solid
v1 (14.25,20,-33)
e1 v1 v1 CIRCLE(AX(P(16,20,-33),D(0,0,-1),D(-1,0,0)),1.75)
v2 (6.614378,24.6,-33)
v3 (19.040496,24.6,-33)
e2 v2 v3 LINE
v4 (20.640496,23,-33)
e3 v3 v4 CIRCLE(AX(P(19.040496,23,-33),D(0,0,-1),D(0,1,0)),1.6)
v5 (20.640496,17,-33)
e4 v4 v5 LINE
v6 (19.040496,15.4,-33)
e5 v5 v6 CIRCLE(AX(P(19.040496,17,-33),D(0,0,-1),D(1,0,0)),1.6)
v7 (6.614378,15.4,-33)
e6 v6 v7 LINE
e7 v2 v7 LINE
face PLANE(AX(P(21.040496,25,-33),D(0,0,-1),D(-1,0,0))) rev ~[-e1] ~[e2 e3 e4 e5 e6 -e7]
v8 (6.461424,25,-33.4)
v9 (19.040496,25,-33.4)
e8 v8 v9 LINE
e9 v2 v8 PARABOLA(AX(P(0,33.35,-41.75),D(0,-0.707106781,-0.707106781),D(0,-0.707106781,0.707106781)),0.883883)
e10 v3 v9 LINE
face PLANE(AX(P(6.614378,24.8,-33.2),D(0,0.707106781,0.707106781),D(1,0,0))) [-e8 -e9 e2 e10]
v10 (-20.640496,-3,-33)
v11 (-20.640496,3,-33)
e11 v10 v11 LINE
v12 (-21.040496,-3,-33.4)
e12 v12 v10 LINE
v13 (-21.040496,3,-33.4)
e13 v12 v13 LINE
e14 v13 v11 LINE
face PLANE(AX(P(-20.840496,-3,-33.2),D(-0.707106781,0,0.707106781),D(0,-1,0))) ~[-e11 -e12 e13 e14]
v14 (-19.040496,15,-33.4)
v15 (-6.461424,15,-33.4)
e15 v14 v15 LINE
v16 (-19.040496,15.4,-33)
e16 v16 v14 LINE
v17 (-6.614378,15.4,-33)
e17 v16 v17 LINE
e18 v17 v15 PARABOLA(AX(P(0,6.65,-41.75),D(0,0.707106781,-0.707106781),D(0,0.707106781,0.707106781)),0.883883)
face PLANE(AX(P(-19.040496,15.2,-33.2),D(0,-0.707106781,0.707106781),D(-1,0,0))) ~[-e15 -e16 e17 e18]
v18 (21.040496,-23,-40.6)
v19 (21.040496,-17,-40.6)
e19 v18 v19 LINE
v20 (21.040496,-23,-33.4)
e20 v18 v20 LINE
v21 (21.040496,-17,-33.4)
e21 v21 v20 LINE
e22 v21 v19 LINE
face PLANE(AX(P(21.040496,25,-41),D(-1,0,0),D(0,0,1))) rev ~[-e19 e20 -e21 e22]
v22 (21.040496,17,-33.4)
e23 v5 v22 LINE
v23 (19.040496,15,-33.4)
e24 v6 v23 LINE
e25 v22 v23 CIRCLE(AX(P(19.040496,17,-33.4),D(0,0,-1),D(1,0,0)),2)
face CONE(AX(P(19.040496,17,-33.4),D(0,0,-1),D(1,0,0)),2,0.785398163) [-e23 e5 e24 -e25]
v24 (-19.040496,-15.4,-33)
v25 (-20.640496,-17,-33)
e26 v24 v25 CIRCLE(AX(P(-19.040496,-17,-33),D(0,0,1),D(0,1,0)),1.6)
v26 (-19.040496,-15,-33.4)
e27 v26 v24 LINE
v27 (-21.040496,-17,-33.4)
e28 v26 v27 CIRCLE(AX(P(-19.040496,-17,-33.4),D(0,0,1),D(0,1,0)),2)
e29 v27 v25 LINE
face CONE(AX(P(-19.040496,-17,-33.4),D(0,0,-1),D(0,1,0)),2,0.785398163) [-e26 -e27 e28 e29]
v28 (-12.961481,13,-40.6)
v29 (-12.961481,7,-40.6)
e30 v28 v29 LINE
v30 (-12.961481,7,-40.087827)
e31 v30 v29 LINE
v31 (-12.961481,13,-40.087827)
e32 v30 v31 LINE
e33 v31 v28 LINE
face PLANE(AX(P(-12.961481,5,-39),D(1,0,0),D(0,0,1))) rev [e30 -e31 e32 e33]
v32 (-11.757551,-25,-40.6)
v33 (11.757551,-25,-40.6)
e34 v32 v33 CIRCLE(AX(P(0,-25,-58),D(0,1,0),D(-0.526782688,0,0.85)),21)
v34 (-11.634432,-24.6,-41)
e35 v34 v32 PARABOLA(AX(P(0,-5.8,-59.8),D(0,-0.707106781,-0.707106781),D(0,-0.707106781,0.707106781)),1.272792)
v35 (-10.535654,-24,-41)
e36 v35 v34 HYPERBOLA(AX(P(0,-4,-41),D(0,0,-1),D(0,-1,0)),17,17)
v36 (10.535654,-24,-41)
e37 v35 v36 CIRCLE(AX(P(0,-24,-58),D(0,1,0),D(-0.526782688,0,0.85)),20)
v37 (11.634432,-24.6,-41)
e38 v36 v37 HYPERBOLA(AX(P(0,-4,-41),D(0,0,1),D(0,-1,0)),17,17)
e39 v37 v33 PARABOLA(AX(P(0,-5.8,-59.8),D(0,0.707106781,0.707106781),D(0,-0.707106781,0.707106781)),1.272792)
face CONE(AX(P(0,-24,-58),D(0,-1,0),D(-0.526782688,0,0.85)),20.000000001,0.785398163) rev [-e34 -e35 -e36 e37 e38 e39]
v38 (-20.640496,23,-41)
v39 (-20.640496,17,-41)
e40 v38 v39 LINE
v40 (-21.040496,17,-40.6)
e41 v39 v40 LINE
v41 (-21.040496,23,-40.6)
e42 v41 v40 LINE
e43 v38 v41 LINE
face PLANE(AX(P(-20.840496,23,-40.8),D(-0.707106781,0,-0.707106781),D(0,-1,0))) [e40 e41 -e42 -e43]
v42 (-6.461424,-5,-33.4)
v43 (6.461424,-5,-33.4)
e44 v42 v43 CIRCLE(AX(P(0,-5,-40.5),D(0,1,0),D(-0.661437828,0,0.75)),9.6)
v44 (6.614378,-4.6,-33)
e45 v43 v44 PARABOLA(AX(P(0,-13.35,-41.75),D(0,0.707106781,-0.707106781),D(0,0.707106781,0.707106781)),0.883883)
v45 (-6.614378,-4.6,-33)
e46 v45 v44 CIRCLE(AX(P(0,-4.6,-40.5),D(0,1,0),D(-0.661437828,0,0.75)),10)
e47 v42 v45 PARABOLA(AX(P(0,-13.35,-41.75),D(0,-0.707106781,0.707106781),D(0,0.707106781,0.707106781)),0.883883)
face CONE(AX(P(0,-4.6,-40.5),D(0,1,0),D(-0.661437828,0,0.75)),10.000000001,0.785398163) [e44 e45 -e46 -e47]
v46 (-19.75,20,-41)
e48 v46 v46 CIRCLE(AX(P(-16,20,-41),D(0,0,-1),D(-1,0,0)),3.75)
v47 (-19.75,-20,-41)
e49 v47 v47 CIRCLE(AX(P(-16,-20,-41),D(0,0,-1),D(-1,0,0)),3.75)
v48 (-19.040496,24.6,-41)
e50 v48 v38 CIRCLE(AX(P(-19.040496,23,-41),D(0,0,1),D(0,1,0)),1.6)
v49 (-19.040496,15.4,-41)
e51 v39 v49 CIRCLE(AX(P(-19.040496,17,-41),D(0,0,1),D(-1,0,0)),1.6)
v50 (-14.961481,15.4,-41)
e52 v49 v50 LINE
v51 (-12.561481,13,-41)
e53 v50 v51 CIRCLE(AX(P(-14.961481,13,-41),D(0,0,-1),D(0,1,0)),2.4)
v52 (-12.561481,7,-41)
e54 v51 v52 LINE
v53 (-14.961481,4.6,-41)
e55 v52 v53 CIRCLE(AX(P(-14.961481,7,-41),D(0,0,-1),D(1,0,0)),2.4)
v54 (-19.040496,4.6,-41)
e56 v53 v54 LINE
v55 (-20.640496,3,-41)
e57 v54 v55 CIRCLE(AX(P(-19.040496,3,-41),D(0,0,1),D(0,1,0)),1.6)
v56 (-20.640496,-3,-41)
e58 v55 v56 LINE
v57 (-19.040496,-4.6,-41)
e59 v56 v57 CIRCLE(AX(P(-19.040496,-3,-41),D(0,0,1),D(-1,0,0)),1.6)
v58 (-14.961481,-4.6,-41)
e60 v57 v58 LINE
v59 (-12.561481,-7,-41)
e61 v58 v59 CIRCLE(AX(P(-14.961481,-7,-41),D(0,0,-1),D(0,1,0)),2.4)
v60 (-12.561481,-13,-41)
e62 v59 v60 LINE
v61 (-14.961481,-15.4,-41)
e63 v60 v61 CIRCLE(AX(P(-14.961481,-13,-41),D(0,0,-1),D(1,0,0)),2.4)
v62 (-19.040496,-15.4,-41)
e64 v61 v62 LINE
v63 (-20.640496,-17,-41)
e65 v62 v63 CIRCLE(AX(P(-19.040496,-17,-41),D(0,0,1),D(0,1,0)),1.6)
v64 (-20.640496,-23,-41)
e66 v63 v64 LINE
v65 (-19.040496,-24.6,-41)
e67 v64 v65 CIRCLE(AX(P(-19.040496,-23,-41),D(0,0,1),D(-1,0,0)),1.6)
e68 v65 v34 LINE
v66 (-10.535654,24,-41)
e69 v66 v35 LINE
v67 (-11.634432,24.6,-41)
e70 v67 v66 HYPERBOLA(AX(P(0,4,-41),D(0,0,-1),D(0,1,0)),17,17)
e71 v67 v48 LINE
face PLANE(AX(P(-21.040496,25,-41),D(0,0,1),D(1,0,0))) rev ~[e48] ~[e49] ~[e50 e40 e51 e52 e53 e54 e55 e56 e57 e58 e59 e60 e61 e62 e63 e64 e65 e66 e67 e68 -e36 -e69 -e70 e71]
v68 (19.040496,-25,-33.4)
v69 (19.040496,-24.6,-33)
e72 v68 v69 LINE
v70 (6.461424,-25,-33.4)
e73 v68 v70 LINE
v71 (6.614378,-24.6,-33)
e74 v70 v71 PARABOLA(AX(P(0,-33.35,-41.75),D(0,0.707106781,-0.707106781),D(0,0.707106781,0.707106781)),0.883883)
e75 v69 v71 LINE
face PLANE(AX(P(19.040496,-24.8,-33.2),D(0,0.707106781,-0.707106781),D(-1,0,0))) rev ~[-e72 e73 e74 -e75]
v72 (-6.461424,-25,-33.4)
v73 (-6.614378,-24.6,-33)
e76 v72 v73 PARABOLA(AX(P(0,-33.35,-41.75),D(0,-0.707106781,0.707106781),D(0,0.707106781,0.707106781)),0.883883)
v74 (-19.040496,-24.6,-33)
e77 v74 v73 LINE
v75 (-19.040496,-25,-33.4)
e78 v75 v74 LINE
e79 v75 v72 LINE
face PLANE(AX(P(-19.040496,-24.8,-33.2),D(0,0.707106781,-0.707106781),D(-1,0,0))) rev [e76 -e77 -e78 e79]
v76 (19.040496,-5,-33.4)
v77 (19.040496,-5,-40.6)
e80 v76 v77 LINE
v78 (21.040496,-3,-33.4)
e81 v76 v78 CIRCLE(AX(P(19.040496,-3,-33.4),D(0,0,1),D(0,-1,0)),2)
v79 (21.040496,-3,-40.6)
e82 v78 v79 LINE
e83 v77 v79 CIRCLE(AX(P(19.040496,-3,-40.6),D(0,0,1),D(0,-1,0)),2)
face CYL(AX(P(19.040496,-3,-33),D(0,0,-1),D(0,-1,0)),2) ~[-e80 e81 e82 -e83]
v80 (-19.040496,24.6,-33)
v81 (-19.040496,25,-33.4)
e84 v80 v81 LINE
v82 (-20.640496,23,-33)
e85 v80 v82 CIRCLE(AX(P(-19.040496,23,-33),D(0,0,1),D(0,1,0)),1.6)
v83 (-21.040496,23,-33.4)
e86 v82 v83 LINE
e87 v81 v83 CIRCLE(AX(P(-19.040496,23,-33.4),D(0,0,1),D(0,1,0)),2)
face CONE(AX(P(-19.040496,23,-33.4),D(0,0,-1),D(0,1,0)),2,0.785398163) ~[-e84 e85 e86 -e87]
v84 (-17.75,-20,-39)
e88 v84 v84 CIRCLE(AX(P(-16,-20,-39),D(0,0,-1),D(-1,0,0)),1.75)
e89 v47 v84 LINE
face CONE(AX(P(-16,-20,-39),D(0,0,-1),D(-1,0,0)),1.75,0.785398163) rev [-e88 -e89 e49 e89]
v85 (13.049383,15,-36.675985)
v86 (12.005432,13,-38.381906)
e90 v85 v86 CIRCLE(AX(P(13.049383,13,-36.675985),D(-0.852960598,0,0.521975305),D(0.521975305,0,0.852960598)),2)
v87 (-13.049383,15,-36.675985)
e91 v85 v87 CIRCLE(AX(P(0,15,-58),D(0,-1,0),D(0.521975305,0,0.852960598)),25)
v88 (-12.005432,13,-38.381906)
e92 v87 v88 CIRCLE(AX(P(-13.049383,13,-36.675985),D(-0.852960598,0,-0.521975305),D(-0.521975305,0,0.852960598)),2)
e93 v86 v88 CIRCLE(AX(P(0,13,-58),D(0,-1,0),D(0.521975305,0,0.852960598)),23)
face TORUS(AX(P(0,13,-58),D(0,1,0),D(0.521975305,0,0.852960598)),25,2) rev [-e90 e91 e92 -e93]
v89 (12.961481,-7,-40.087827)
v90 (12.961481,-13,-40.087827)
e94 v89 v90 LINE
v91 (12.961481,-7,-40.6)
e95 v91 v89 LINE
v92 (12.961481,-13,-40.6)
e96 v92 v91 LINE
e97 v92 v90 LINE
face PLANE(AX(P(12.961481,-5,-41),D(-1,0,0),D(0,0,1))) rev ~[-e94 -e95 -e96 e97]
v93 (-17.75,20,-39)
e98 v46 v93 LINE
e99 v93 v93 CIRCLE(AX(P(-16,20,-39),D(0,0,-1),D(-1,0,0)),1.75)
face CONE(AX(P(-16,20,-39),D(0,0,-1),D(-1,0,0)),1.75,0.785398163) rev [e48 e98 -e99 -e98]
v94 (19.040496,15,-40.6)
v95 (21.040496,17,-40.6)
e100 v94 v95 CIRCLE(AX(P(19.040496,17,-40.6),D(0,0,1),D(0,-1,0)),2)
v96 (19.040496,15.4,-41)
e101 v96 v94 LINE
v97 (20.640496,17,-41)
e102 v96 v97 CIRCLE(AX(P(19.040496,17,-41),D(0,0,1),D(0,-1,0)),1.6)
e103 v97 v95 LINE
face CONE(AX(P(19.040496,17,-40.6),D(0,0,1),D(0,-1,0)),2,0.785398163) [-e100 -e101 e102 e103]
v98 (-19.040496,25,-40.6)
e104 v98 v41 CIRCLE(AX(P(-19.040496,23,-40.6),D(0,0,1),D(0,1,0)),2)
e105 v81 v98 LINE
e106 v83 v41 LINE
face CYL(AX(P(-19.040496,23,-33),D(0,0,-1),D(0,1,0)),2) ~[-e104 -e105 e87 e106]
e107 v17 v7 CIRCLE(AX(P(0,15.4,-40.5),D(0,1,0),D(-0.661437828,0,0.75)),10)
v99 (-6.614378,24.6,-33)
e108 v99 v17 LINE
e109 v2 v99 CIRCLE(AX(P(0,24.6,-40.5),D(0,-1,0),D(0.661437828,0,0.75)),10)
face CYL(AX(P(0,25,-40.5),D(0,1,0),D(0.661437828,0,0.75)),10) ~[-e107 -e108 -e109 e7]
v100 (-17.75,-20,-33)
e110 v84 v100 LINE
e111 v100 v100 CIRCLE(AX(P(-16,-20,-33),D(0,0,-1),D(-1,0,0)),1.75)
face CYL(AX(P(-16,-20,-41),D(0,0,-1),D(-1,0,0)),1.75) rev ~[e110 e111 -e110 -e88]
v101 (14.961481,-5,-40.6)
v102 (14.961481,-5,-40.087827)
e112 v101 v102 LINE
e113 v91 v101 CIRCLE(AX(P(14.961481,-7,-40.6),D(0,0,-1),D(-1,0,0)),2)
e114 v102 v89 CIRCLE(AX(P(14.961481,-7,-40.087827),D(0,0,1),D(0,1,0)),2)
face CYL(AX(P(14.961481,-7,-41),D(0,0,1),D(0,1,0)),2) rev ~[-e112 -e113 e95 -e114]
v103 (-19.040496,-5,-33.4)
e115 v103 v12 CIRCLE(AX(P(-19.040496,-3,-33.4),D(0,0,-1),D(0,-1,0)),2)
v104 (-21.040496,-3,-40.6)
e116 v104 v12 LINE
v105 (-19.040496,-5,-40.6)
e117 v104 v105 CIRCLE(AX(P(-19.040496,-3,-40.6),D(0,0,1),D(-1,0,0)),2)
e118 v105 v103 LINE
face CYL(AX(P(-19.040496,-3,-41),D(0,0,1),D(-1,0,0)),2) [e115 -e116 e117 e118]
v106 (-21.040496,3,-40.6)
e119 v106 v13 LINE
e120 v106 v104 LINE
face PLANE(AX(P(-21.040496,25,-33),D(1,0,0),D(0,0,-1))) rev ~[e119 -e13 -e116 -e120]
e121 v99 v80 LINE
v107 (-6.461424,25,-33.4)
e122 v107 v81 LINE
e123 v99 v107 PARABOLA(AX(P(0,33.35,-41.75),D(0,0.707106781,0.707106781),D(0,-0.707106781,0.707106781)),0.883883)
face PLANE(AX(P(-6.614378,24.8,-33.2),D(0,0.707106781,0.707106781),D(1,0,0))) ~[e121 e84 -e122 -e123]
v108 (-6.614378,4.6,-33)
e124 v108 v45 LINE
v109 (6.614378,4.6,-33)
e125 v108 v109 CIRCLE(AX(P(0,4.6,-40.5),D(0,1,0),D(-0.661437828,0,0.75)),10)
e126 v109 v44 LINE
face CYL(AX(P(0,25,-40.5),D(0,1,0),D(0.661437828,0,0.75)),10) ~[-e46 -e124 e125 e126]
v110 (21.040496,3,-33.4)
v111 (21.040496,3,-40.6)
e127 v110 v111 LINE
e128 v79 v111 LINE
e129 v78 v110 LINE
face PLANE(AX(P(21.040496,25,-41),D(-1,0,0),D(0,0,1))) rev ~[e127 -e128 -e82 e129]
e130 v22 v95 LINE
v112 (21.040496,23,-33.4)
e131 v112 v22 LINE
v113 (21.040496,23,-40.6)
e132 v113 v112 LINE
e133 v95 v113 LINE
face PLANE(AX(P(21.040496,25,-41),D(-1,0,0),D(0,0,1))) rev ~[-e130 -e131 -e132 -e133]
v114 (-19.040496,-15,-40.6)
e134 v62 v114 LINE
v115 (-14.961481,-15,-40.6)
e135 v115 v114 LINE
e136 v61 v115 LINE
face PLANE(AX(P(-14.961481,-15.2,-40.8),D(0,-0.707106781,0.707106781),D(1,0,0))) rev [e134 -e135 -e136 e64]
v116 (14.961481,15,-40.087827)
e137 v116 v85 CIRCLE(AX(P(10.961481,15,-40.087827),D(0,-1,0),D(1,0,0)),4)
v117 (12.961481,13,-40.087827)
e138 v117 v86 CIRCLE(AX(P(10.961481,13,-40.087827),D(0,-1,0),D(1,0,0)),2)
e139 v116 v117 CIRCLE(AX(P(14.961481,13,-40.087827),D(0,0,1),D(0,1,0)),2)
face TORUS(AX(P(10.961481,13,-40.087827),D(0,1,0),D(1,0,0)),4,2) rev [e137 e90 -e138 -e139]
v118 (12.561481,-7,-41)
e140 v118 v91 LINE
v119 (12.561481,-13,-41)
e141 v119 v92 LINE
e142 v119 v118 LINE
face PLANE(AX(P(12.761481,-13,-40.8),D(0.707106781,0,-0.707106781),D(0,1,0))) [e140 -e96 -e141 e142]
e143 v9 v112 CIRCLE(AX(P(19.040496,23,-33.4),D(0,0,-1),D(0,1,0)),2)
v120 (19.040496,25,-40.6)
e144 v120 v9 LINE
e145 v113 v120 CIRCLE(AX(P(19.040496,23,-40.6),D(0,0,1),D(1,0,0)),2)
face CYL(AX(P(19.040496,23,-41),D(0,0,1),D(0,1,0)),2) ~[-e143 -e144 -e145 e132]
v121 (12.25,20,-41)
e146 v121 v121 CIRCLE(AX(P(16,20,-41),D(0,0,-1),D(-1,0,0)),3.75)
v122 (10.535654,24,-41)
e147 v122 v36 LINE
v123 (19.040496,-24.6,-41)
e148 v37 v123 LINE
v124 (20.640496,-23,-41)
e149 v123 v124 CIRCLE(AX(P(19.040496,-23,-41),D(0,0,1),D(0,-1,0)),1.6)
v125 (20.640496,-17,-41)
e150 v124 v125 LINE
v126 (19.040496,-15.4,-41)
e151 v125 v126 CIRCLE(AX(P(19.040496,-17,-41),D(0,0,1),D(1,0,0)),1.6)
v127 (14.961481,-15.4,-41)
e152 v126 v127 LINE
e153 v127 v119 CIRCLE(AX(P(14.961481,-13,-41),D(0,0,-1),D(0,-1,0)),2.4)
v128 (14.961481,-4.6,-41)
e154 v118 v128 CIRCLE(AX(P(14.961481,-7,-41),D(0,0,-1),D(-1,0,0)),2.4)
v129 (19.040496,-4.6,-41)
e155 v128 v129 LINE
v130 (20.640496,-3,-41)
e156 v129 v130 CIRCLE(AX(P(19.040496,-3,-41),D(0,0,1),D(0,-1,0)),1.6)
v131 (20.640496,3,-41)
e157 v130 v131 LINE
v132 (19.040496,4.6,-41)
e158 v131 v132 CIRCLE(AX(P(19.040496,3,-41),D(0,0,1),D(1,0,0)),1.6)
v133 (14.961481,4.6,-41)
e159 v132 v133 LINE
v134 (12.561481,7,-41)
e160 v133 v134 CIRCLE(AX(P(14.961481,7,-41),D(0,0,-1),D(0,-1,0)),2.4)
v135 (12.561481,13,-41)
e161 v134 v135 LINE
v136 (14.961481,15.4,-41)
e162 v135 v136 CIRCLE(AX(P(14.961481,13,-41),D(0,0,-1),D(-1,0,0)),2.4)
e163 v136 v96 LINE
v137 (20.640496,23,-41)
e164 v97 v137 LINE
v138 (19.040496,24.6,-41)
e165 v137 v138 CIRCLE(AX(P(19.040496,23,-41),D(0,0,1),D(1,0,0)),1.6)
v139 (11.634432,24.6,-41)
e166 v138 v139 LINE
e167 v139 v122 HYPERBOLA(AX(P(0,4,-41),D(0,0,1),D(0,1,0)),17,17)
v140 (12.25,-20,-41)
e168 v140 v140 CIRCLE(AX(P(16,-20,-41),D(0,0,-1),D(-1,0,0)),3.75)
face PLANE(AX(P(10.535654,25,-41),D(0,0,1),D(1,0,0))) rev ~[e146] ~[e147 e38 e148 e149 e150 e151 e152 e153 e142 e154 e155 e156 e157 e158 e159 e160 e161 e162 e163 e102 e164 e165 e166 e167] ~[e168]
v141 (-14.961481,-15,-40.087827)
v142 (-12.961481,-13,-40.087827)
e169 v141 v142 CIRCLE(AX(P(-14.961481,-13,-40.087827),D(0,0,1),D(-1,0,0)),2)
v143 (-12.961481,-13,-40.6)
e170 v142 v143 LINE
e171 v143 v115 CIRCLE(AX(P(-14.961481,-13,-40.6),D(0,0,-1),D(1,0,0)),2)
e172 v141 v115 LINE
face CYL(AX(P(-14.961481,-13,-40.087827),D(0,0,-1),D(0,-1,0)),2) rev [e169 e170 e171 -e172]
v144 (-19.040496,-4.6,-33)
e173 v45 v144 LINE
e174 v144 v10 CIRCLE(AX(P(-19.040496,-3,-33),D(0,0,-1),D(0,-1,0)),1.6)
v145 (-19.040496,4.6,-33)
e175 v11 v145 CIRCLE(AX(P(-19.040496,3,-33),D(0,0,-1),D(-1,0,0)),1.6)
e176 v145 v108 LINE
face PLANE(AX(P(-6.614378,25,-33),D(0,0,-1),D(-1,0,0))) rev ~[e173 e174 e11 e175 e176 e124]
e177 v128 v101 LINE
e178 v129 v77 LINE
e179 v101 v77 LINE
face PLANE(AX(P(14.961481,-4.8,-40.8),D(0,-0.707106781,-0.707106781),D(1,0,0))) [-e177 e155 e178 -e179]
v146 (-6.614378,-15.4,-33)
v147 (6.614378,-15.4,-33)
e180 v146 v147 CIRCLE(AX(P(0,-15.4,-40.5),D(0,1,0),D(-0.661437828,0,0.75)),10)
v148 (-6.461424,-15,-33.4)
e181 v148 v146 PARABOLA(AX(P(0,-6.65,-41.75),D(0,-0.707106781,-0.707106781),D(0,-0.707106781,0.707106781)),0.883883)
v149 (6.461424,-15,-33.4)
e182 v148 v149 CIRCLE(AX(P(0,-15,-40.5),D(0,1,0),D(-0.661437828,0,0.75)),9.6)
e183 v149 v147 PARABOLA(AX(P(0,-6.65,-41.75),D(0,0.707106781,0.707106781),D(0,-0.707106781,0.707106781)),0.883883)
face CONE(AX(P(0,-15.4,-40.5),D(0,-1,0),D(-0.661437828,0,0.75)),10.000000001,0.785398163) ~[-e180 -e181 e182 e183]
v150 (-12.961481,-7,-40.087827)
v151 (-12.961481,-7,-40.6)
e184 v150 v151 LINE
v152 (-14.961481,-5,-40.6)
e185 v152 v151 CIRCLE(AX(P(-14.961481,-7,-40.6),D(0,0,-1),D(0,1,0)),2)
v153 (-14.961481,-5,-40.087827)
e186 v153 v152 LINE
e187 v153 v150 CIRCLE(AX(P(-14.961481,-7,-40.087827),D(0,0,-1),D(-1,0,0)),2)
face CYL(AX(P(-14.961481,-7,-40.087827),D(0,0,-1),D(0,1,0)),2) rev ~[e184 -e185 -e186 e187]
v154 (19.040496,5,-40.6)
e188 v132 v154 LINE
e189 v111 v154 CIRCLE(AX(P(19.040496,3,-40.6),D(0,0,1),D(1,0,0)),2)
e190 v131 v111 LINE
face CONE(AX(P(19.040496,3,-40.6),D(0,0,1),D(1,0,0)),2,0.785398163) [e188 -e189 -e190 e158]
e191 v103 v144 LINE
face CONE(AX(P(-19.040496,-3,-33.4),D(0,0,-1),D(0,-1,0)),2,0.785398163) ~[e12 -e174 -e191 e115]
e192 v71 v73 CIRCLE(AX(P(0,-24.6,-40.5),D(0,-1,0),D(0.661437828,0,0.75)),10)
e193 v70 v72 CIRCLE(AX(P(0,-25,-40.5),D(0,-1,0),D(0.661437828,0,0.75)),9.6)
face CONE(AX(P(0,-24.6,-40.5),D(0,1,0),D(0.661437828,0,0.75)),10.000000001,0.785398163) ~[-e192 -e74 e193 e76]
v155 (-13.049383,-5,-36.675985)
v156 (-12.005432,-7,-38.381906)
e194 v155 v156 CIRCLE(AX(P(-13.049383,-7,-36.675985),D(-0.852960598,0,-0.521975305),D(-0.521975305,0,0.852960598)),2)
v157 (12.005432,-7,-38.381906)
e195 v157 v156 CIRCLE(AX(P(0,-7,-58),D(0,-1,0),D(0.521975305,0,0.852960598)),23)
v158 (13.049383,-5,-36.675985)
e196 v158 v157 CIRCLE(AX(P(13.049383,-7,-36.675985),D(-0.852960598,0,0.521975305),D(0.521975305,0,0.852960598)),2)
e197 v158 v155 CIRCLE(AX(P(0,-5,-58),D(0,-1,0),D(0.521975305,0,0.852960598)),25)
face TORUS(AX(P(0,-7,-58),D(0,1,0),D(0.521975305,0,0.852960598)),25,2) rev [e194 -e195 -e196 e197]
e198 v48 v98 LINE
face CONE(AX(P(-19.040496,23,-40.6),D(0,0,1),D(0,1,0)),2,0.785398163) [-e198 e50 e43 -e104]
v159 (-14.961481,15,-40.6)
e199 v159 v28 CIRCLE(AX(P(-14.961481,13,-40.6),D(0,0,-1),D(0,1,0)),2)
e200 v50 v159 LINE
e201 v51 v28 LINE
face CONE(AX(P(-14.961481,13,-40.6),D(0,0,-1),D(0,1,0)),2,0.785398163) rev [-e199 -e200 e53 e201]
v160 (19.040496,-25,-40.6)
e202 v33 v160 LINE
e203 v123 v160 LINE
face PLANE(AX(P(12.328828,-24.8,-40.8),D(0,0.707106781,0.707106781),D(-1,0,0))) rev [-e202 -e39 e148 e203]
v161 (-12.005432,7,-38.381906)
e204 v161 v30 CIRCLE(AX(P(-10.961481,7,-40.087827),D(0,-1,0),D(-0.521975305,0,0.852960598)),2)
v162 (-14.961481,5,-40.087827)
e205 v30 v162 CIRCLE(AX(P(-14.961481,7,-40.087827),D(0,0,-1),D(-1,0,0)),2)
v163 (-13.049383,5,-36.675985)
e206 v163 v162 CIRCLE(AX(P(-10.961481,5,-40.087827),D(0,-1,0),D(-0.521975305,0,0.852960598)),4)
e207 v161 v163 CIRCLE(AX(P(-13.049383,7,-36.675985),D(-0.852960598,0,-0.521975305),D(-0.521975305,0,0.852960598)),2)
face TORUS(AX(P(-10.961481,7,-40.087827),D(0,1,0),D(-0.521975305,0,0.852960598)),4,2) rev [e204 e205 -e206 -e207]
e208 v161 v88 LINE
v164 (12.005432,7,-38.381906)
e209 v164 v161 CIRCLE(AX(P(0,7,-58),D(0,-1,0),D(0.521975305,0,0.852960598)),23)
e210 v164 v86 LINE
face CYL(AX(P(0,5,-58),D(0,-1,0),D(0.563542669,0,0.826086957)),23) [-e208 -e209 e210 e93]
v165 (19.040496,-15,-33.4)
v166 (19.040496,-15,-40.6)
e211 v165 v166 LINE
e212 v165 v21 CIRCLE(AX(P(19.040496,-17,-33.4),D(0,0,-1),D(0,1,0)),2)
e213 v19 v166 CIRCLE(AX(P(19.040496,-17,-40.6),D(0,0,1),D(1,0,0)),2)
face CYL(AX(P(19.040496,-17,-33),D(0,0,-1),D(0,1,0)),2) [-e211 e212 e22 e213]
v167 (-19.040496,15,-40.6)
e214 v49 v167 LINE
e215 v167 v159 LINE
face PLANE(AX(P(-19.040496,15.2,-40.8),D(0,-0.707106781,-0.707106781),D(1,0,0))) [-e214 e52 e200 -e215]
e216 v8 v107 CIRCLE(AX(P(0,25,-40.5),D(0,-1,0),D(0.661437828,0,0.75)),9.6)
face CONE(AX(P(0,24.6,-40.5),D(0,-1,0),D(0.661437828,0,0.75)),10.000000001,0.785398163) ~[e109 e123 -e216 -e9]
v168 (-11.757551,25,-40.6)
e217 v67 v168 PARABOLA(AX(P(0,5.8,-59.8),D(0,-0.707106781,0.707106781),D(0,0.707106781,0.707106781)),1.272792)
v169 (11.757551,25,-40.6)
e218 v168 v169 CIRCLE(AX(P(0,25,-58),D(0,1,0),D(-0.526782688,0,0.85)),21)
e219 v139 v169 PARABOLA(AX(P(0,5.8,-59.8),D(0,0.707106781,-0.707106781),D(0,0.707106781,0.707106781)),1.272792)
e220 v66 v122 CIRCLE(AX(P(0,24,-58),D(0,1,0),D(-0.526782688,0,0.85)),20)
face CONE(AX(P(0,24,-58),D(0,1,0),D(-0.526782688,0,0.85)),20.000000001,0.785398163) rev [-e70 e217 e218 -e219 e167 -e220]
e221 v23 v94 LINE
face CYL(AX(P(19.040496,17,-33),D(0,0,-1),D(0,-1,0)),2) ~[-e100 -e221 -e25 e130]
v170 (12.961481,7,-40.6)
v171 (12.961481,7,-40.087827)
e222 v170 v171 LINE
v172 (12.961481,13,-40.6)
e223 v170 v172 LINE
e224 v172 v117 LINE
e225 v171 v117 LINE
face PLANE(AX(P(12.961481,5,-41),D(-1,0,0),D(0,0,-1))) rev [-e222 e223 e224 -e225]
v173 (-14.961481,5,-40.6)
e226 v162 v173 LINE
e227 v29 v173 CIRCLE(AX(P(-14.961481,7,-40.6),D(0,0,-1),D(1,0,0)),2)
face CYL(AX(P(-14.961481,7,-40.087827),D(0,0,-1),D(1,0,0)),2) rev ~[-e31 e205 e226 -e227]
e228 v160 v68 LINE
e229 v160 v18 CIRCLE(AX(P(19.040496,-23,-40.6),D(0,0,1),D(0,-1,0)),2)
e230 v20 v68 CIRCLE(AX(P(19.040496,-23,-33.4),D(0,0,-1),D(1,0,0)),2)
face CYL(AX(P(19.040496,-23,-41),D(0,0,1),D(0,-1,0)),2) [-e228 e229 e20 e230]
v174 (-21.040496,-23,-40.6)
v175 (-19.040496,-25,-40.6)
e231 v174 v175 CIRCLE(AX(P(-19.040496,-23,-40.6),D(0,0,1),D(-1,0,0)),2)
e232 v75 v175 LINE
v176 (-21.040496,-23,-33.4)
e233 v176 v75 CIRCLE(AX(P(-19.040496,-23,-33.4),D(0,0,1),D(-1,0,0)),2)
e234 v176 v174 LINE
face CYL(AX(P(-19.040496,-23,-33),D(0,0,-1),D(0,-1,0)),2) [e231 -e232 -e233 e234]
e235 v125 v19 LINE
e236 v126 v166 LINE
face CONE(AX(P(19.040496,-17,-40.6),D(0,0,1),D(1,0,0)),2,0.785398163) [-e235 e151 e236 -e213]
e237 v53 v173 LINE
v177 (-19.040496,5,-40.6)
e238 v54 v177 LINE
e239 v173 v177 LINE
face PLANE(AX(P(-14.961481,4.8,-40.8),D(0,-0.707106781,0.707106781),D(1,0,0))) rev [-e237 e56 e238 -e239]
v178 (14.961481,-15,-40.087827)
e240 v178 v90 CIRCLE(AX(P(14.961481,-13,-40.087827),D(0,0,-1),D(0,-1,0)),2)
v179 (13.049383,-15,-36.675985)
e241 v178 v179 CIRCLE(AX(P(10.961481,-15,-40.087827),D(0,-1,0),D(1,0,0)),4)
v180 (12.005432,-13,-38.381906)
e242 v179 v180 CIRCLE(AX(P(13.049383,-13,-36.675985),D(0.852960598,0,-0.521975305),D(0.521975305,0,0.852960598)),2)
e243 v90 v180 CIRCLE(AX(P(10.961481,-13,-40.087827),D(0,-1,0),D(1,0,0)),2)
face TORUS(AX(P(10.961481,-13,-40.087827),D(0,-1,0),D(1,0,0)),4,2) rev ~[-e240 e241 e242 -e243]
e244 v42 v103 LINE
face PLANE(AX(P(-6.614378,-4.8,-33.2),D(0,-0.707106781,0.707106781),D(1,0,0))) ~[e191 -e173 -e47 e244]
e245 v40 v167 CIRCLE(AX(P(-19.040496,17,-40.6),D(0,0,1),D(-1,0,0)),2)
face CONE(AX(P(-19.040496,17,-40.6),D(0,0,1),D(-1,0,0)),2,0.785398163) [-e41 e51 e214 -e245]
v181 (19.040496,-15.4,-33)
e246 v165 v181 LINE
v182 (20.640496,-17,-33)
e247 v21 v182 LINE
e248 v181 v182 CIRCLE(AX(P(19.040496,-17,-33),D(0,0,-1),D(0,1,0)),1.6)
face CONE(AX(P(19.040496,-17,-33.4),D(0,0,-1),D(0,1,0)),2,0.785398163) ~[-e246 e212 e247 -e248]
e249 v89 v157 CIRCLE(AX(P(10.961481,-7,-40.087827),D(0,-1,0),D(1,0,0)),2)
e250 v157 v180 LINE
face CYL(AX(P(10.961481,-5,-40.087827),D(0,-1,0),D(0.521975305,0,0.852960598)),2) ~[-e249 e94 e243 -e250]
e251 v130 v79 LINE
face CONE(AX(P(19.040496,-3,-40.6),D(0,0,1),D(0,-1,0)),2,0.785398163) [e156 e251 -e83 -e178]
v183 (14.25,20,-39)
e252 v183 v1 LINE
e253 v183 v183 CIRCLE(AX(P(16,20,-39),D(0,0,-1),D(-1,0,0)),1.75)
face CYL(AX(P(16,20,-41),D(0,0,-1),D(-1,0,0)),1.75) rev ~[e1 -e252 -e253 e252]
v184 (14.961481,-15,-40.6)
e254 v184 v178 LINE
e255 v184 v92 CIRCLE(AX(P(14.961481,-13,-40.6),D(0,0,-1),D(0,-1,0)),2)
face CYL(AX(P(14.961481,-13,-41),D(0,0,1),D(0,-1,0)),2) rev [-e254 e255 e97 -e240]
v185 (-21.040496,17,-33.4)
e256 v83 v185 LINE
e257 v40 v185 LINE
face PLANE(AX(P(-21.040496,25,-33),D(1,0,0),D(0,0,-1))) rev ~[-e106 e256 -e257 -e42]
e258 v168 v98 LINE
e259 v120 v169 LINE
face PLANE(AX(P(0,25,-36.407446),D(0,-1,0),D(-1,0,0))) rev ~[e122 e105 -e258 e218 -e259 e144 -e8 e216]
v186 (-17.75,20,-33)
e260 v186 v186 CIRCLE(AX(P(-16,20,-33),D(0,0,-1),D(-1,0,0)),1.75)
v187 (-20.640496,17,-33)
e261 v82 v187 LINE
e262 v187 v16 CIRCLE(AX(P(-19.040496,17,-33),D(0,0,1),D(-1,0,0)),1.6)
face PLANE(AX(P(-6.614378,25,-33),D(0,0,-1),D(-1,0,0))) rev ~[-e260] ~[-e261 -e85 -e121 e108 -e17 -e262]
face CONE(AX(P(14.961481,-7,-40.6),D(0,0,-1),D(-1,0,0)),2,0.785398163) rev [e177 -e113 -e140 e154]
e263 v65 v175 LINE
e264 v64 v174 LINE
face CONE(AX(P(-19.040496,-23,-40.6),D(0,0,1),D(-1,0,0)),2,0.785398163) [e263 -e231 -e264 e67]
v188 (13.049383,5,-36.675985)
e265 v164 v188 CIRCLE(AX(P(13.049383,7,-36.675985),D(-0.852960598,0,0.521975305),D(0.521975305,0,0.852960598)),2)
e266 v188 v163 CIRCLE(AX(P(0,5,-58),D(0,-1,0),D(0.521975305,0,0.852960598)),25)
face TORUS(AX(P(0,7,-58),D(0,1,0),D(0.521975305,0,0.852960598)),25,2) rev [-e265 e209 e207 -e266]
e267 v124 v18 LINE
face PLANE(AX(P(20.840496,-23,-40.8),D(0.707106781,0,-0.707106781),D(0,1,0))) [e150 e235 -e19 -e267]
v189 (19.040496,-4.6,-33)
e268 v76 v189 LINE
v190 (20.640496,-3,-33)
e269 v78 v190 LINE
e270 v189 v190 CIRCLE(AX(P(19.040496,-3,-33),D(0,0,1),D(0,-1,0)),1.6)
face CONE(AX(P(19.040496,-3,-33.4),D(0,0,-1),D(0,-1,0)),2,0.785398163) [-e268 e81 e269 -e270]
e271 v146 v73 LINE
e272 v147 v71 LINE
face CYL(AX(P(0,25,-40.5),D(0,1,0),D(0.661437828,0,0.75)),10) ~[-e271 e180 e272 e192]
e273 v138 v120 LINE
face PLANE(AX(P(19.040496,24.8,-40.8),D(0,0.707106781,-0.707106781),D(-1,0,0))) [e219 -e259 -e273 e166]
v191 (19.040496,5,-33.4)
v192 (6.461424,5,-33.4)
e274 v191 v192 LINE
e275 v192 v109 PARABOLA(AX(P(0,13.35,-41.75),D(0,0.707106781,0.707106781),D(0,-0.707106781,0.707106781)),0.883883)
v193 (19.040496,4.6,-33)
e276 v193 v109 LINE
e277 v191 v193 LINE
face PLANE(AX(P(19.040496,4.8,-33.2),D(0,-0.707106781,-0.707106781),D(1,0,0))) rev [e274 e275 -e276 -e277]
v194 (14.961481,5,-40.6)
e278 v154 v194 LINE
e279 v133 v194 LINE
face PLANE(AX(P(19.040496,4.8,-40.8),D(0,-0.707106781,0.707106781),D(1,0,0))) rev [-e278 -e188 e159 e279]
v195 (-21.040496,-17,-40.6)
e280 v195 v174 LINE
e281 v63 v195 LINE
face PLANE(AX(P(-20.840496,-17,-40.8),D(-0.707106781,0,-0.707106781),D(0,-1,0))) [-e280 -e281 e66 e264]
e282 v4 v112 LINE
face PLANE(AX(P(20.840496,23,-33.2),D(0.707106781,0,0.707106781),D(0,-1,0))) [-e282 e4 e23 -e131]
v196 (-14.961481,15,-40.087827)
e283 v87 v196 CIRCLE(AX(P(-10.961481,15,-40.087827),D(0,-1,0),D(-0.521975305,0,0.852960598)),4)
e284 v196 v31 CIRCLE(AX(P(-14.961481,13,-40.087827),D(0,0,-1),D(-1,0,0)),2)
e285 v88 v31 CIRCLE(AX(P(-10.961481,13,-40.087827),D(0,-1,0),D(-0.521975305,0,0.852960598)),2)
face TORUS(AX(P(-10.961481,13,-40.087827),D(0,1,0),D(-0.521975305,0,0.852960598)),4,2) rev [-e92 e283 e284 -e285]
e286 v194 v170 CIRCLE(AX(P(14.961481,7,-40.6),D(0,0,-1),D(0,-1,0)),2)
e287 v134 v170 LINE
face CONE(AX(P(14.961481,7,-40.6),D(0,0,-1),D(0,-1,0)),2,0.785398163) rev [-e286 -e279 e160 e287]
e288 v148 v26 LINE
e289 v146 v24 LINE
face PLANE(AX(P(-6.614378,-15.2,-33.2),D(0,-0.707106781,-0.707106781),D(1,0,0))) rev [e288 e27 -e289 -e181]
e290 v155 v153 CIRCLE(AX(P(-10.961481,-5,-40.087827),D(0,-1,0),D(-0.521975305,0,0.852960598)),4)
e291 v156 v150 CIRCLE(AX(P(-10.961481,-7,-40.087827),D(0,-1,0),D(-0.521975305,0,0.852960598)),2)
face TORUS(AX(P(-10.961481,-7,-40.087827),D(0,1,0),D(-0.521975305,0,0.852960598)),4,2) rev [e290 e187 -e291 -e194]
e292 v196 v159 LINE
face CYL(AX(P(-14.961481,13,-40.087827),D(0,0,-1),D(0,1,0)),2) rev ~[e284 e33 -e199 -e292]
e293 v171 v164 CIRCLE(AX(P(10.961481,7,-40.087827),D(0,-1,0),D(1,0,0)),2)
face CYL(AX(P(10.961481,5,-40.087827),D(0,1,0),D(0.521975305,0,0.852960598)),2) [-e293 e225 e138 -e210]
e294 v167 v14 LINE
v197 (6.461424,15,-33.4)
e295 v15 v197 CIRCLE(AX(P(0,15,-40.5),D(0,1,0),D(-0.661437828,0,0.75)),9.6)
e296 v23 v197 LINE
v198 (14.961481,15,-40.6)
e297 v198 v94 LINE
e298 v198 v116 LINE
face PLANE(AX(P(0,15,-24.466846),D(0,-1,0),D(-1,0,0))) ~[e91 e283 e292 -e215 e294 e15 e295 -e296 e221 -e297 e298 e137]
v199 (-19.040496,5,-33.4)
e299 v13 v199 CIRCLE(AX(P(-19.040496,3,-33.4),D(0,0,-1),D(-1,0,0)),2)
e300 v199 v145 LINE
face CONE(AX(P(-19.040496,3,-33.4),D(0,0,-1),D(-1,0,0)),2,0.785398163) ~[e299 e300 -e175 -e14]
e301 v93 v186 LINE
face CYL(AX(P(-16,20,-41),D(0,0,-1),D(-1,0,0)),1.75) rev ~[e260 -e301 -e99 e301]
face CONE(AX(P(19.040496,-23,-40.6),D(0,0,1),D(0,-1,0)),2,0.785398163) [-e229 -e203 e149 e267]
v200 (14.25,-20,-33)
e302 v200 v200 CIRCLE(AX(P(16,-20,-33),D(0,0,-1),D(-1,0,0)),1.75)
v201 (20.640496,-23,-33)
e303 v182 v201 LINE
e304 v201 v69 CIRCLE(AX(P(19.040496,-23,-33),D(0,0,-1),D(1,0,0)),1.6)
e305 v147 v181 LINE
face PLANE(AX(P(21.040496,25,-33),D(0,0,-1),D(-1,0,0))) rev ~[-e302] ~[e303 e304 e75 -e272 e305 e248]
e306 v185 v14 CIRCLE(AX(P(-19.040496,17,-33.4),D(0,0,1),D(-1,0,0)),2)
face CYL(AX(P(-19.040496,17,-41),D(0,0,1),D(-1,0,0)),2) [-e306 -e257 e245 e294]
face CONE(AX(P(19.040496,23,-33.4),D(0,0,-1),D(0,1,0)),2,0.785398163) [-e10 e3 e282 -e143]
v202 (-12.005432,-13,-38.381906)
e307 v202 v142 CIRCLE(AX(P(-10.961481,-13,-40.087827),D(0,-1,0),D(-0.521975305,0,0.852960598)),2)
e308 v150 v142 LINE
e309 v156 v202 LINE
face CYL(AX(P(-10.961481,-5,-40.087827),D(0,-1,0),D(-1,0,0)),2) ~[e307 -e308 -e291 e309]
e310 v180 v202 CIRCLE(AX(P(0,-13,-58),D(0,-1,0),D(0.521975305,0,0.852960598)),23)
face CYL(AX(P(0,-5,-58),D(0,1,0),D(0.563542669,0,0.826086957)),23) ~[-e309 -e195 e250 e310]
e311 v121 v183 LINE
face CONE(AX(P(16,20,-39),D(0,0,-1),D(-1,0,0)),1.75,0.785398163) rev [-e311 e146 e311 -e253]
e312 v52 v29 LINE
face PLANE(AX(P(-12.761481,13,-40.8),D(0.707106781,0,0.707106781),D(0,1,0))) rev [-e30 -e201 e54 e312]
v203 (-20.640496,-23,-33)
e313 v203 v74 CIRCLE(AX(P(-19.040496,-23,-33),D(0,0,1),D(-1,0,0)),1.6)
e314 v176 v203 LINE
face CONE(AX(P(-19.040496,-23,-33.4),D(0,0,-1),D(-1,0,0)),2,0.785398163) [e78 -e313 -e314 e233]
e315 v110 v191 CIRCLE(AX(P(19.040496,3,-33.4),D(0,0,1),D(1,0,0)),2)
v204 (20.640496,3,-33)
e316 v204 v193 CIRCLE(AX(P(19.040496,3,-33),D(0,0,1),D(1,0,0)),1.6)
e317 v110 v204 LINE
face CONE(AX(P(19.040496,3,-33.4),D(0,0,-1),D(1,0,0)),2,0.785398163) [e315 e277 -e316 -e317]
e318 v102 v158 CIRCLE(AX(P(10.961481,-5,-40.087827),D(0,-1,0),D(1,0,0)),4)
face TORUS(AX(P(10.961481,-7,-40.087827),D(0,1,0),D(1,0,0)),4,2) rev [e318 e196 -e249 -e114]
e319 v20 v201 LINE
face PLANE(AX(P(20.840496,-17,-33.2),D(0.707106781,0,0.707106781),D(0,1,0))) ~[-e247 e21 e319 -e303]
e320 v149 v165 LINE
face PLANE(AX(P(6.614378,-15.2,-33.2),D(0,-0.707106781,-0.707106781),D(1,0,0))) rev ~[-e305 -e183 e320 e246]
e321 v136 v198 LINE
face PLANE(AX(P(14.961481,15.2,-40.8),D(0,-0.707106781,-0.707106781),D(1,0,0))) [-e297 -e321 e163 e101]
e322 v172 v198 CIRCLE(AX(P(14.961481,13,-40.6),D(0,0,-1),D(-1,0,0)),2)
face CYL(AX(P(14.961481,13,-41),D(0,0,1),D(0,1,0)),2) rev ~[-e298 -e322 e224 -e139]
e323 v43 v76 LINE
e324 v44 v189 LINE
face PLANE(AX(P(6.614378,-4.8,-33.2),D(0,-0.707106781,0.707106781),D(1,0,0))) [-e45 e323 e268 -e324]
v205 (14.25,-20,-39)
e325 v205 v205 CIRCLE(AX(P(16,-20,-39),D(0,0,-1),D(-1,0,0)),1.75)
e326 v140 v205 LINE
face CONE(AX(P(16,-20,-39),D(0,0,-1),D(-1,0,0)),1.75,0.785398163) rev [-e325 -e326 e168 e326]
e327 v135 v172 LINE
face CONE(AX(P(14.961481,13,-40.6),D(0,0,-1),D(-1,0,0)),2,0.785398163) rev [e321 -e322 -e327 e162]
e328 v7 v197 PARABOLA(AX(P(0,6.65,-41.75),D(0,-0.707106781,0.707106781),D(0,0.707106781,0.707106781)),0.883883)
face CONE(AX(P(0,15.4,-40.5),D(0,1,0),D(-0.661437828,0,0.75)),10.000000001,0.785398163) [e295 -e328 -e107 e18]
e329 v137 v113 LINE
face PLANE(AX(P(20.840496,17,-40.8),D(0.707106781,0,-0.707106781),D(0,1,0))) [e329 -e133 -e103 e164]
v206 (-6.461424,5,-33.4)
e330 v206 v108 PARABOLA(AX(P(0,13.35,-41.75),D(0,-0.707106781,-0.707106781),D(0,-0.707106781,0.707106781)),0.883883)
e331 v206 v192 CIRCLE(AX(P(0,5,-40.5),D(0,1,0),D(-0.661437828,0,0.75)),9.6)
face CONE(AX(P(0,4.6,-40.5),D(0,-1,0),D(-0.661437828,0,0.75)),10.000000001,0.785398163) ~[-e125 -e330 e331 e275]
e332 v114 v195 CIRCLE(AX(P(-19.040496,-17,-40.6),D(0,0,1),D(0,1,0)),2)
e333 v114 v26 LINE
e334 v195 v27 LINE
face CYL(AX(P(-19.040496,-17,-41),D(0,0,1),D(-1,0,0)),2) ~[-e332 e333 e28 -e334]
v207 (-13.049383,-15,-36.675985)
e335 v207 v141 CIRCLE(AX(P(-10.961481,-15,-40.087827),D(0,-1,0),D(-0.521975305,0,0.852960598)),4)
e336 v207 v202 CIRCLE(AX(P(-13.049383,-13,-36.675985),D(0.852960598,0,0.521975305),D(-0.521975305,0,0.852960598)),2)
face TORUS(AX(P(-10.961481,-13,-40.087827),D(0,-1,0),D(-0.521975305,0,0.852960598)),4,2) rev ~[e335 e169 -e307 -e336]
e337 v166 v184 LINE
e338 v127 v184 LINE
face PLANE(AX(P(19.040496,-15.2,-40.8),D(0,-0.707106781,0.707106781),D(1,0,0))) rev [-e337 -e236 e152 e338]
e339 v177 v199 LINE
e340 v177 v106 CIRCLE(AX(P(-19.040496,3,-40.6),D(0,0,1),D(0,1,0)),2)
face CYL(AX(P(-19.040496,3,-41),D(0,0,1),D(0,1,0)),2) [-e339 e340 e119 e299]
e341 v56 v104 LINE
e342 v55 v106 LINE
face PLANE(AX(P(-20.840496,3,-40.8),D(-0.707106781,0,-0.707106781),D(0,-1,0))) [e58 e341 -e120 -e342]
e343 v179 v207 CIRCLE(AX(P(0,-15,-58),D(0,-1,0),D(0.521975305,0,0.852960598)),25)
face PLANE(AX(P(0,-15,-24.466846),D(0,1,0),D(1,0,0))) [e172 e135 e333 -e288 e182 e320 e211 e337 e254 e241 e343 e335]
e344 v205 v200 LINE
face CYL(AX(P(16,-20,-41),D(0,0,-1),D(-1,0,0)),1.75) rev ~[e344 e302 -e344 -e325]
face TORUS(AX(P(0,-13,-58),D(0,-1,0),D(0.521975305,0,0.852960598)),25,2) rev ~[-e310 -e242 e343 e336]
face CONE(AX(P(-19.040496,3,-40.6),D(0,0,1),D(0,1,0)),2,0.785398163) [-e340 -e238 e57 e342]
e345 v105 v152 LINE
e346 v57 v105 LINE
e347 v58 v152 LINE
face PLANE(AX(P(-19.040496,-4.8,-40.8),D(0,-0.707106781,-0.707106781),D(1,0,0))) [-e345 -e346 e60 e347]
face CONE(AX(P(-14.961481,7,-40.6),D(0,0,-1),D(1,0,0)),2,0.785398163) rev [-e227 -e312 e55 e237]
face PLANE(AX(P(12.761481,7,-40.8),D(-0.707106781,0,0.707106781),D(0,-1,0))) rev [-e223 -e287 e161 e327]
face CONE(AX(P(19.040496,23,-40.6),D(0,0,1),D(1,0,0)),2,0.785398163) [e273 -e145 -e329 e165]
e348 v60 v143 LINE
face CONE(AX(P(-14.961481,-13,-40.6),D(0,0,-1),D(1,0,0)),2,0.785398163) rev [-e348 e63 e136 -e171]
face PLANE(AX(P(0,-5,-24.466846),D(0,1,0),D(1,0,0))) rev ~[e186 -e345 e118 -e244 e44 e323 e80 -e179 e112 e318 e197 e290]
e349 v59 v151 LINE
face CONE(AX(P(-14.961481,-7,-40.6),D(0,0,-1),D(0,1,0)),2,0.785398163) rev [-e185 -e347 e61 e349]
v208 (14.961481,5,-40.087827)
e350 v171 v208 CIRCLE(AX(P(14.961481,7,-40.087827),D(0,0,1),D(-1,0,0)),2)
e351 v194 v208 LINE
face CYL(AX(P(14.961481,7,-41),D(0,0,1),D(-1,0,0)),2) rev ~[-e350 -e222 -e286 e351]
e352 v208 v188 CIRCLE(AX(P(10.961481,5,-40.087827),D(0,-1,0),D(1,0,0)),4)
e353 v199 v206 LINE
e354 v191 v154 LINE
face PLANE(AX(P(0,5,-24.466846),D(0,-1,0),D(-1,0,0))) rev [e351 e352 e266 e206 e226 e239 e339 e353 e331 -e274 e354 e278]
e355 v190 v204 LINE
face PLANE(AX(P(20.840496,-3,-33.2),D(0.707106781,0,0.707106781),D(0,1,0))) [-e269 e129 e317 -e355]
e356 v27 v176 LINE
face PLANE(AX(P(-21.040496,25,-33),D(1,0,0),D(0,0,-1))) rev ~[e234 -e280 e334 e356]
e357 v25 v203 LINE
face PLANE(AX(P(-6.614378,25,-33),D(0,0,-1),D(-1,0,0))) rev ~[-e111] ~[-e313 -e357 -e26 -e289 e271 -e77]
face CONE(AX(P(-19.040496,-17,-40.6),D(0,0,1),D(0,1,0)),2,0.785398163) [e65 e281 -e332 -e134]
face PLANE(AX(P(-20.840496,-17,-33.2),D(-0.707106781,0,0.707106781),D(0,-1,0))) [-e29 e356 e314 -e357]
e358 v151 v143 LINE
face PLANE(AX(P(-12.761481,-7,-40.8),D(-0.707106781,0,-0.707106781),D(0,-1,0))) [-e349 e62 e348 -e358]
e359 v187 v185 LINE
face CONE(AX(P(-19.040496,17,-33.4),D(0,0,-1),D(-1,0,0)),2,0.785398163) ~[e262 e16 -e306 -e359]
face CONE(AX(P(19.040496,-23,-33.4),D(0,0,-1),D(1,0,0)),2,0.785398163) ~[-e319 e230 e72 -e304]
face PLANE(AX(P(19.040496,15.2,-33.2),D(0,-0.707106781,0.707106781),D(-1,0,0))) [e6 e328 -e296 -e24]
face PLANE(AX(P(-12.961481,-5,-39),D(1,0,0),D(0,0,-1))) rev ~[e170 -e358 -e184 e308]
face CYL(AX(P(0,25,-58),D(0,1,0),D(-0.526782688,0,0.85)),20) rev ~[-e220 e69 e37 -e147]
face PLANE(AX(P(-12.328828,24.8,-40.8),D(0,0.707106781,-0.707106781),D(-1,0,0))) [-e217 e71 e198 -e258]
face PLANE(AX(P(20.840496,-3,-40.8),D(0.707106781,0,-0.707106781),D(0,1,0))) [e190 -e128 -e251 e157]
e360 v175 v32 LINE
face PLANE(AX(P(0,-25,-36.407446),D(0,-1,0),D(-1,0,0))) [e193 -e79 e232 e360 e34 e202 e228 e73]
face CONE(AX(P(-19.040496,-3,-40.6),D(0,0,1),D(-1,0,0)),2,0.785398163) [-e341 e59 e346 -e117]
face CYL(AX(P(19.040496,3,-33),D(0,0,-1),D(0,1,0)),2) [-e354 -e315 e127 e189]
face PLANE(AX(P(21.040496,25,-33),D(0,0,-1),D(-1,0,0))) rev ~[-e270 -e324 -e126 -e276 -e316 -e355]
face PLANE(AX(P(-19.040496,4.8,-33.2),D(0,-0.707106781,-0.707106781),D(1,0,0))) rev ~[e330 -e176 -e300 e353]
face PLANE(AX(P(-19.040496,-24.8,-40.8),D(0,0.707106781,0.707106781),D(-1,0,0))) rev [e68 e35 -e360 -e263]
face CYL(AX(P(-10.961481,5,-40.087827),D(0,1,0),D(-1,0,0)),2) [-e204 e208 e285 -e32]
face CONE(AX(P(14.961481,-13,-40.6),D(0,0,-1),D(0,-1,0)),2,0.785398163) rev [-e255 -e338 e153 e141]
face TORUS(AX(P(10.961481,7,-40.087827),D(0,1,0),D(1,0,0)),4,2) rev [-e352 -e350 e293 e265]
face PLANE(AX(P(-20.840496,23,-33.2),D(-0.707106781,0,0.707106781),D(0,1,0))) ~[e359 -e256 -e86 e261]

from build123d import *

# Parameters (mm, degrees)
BOSS_EXTRUDE1_START = 25
BOSS_EXTRUDE1_DEPTH = 50
SKETCH2_R           = 1.75
CUT_EXTRUDE1_DEPTH  = 35.321312345
CUT_EXTRUDE2_START  = -5
CUT_EXTRUDE2_DEPTH  = 10
CHAMFER1_SIZE       = 2
CHAMFER2_SIZE       = 1
FILLET1_R           = 2
FILLET3_R           = 2
CHAMFER4_SIZE       = 0.4
FILLET2_R           = 2
CHAMFER5_SIZE       = 0.4


with BuildPart() as part:
    # Sketch1 → Boss-Extrude1 (new body)
    with BuildSketch(Plane(origin=(0, 0, 0), x_dir=(1, 0, 0), z_dir=(0, 1, 0)).offset(BOSS_EXTRUDE1_START)):
        with BuildLine():
            Line((-21.040496218, 41), (-10.535653753, 41))
            ThreePointArc((-10.535653753, 41), (0, 38), (10.535653753, 41))
            Line((10.535653753, 41), (21.040496218, 41))
            Line((21.040496218, 41), (21.040496218, 33))
            Line((21.040496218, 33), (6.614378278, 33))
            ThreePointArc((6.614378278, 33), (0, 30.5), (-6.614378278, 33))
            Line((-6.614378278, 33), (-21.040496218, 33))
            Line((-21.040496218, 33), (-21.040496218, 41))
        make_face()
    extrude(amount=-BOSS_EXTRUDE1_DEPTH)

    # Sketch2 → Cut-Extrude1 (cut, through all)
    with BuildSketch(Plane(origin=(0, 0, -41), x_dir=(-1, 0, 0), z_dir=(0, 0, -1))):
        with Locations((-16, 20)):
            Circle(SKETCH2_R)
        with Locations((16, 20)):
            Circle(SKETCH2_R)
        with Locations((-16, -20)):
            Circle(SKETCH2_R)
        with Locations((16, -20)):
            Circle(SKETCH2_R)
    extrude(amount=-CUT_EXTRUDE1_DEPTH, mode=Mode.SUBTRACT)

    # Sketch3 → Cut-Extrude2 (cut)
    with BuildSketch(Plane(origin=(0, 0, 0), x_dir=(1, 0, 0), z_dir=(0, 1, 0)).offset(CUT_EXTRUDE2_START)):
        with BuildLine():
            Line((-21.040496218, 41), (-21.040496218, 8.382266622))
            Line((-21.040496218, 8.382266622), (21.040496218, 8.382266622))
            Line((21.040496218, 8.382266622), (21.040496218, 41))
            Line((21.040496218, 41), (12.961481397, 41))
            Line((12.961481397, 41), (12.961481397, 39))
            ThreePointArc((12.961481397, 39), (0, 35), (-12.961481397, 39))
            Line((-12.961481397, 39), (-12.961481397, 41))
            Line((-12.961481397, 41), (-21.040496218, 41))
        make_face()
    cut_extrude2 = extrude(amount=-CUT_EXTRUDE2_DEPTH, mode=Mode.SUBTRACT)

    # Mirror1: Cut-Extrude2 across plane
    add(cut_extrude2.mirror(Plane.ZX), mode=Mode.SUBTRACT)

    # Chamfer1
    chamfer1_edges = [part.edges().sort_by_distance(p)[0] for p in [
        (-14.25, 20, -41),
        (17.75, -20, -41),
        (-14.25, -20, -41),
        (17.75, 20, -41),
    ]]
    chamfer(chamfer1_edges, length=CHAMFER1_SIZE)

    # Chamfer2
    chamfer2_edges = [part.edges().sort_by_distance(p)[0] for p in [
        (0, -25, -38),
        (0, 25, -38),
    ]]
    chamfer(chamfer2_edges, length=CHAMFER2_SIZE)

    # Fillet1
    fillet1_edges = [part.edges().sort_by_distance(p)[0] for p in [
        (-21.040496218, 25, -37),
        (21.040496218, 25, -37),
        (-21.040496218, -25, -37),
        (21.040496218, -25, -37),
        (-21.040496218, -15, -37),
        (21.040496218, -15, -37),
        (21.040496218, -5, -37),
        (-21.040496218, -5, -37),
        (21.040496218, 5, -37),
        (21.040496218, 15, -37),
        (-21.040496218, 5, -37),
        (-21.040496218, 15, -37),
    ]]
    fillet(fillet1_edges, radius=FILLET1_R)

    # Fillet3
    fillet3_edges = [part.edges().sort_by_distance(p)[0] for p in [
        (-12.961481397, -10, -39),
        (12.961481397, -10, -39),
        (12.961481397, 10, -39),
        (-12.961481397, 10, -39),
    ]]
    fillet(fillet3_edges, radius=FILLET3_R)

    # Chamfer4
    chamfer4_edges = [part.edges().sort_by_distance(p)[0] for p in [
        (-21.040496218, 20, -33),
        (-12.827437248, 15, -33),
        (-12.827437248, 25, -33),
        (-20.45470978, 24.414213562, -33),
        (-20.45470978, 15.585786438, -33),
        (-12.827437248, 5, -33),
        (-21.040496218, 0, -33),
        (-20.45470978, -4.414213562, -33),
        (-20.45470978, 4.414213562, -33),
        (12.827437248, -5, -33),
        (12.827437248, -15, -33),
        (-21.040496218, -20, -33),
        (-12.827437248, -25, -33),
        (-20.45470978, -24.414213562, -33),
        (-20.45470978, -15.585786438, -33),
        (21.040496218, -20, -33),
        (20.45470978, -15.585786438, -33),
        (20.45470978, -24.414213562, -33),
        (21.040496218, 0, -33),
        (20.45470978, 4.414213562, -33),
        (20.45470978, -4.414213562, -33),
        (21.040496218, 20, -33),
        (20.45470978, 24.414213562, -33),
        (20.45470978, 15.585786438, -33),
        (12.827437248, 25, -33),
        (0, 25, -30.5),
        (12.827437248, -25, -33),
        (0, -25, -30.5),
        (0, -15, -30.5),
        (-12.827437248, -5, -33),
        (-12.827437248, -15, -33),
        (0, -5, -30.5),
        (0, 15, -30.5),
        (12.827437248, 5, -33),
        (12.827437248, 15, -33),
        (0, 5, -30.5),
    ]]
    chamfer(chamfer4_edges, length=CHAMFER4_SIZE)

    # Fillet2
    fillet2_edges = [part.edges().sort_by_distance(p)[0] for p in [
        (0, 5, -35),
        (0, 15, -35),
        (0, -5, -35),
        (0, -15, -35),
        (-12.961481397, -5, -40.543913723),
        (-12.961481397, -15, -40.543913723),
        (-12.961481397, 5, -40.543913723),
        (-12.961481397, 15, -40.543913723),
        (12.706173521, 5, -39.110049665),
        (12.706173521, 15, -39.110049665),
        (12.706173521, -5, -39.110049665),
        (12.706173521, -15, -39.110049665),
        (-12.706173521, -5, -39.110049665),
        (-12.706173521, -15, -39.110049665),
        (-12.706173521, 5, -39.110049665),
        (-12.706173521, 15, -39.110049665),
        (12.961481397, -15, -40.543913723),
        (12.961481397, -5, -40.543913723),
        (12.961481397, 5, -40.543913723),
        (12.961481397, 15, -40.543913723),
    ]]
    fillet(fillet2_edges, radius=FILLET2_R)

    # Chamfer5
    chamfer5_edges = [part.edges().sort_by_distance(p)[0] for p in [
        (-15.684662112, -25, -41),
        (-20.45470978, -24.414213562, -41),
        (-21.040496218, -20, -41),
        (-20.45470978, -15.585786438, -41),
        (-17.000988807, -15, -41),
        (-13.547267834, -14.414213562, -41),
        (-12.961481397, -10, -41),
        (-13.547267834, -5.585786438, -41),
        (-17.000988807, -5, -41),
        (-20.45470978, -4.414213562, -41),
        (-21.040496218, 0, -41),
        (-20.45470978, 4.414213562, -41),
        (-17.000988807, 5, -41),
        (-13.547267834, 5.585786438, -41),
        (-12.961481397, 10, -41),
        (-13.547267834, 14.414213562, -41),
        (-17.000988807, 15, -41),
        (-20.45470978, 15.585786438, -41),
        (-21.040496218, 20, -41),
        (-20.45470978, 24.414213562, -41),
        (-15.684662112, 25, -41),
        (15.684662112, -25, -41),
        (20.45470978, -24.414213562, -41),
        (21.040496218, -20, -41),
        (20.45470978, -15.585786438, -41),
        (17.000988807, -15, -41),
        (13.547267834, -14.414213562, -41),
        (12.961481397, -10, -41),
        (13.547267834, -5.585786438, -41),
        (17.000988807, -5, -41),
        (20.45470978, -4.414213562, -41),
        (21.040496218, 0, -41),
        (20.45470978, 4.414213562, -41),
        (17.000988807, 5, -41),
        (13.547267834, 5.585786438, -41),
        (12.961481397, 10, -41),
        (13.547267834, 14.414213562, -41),
        (17.000988807, 15, -41),
        (20.45470978, 15.585786438, -41),
        (21.040496218, 20, -41),
        (20.45470978, 24.414213562, -41),
        (15.684662112, 25, -41),
    ]]
    chamfer(chamfer5_edges, length=CHAMFER5_SIZE)


solid = part.part
